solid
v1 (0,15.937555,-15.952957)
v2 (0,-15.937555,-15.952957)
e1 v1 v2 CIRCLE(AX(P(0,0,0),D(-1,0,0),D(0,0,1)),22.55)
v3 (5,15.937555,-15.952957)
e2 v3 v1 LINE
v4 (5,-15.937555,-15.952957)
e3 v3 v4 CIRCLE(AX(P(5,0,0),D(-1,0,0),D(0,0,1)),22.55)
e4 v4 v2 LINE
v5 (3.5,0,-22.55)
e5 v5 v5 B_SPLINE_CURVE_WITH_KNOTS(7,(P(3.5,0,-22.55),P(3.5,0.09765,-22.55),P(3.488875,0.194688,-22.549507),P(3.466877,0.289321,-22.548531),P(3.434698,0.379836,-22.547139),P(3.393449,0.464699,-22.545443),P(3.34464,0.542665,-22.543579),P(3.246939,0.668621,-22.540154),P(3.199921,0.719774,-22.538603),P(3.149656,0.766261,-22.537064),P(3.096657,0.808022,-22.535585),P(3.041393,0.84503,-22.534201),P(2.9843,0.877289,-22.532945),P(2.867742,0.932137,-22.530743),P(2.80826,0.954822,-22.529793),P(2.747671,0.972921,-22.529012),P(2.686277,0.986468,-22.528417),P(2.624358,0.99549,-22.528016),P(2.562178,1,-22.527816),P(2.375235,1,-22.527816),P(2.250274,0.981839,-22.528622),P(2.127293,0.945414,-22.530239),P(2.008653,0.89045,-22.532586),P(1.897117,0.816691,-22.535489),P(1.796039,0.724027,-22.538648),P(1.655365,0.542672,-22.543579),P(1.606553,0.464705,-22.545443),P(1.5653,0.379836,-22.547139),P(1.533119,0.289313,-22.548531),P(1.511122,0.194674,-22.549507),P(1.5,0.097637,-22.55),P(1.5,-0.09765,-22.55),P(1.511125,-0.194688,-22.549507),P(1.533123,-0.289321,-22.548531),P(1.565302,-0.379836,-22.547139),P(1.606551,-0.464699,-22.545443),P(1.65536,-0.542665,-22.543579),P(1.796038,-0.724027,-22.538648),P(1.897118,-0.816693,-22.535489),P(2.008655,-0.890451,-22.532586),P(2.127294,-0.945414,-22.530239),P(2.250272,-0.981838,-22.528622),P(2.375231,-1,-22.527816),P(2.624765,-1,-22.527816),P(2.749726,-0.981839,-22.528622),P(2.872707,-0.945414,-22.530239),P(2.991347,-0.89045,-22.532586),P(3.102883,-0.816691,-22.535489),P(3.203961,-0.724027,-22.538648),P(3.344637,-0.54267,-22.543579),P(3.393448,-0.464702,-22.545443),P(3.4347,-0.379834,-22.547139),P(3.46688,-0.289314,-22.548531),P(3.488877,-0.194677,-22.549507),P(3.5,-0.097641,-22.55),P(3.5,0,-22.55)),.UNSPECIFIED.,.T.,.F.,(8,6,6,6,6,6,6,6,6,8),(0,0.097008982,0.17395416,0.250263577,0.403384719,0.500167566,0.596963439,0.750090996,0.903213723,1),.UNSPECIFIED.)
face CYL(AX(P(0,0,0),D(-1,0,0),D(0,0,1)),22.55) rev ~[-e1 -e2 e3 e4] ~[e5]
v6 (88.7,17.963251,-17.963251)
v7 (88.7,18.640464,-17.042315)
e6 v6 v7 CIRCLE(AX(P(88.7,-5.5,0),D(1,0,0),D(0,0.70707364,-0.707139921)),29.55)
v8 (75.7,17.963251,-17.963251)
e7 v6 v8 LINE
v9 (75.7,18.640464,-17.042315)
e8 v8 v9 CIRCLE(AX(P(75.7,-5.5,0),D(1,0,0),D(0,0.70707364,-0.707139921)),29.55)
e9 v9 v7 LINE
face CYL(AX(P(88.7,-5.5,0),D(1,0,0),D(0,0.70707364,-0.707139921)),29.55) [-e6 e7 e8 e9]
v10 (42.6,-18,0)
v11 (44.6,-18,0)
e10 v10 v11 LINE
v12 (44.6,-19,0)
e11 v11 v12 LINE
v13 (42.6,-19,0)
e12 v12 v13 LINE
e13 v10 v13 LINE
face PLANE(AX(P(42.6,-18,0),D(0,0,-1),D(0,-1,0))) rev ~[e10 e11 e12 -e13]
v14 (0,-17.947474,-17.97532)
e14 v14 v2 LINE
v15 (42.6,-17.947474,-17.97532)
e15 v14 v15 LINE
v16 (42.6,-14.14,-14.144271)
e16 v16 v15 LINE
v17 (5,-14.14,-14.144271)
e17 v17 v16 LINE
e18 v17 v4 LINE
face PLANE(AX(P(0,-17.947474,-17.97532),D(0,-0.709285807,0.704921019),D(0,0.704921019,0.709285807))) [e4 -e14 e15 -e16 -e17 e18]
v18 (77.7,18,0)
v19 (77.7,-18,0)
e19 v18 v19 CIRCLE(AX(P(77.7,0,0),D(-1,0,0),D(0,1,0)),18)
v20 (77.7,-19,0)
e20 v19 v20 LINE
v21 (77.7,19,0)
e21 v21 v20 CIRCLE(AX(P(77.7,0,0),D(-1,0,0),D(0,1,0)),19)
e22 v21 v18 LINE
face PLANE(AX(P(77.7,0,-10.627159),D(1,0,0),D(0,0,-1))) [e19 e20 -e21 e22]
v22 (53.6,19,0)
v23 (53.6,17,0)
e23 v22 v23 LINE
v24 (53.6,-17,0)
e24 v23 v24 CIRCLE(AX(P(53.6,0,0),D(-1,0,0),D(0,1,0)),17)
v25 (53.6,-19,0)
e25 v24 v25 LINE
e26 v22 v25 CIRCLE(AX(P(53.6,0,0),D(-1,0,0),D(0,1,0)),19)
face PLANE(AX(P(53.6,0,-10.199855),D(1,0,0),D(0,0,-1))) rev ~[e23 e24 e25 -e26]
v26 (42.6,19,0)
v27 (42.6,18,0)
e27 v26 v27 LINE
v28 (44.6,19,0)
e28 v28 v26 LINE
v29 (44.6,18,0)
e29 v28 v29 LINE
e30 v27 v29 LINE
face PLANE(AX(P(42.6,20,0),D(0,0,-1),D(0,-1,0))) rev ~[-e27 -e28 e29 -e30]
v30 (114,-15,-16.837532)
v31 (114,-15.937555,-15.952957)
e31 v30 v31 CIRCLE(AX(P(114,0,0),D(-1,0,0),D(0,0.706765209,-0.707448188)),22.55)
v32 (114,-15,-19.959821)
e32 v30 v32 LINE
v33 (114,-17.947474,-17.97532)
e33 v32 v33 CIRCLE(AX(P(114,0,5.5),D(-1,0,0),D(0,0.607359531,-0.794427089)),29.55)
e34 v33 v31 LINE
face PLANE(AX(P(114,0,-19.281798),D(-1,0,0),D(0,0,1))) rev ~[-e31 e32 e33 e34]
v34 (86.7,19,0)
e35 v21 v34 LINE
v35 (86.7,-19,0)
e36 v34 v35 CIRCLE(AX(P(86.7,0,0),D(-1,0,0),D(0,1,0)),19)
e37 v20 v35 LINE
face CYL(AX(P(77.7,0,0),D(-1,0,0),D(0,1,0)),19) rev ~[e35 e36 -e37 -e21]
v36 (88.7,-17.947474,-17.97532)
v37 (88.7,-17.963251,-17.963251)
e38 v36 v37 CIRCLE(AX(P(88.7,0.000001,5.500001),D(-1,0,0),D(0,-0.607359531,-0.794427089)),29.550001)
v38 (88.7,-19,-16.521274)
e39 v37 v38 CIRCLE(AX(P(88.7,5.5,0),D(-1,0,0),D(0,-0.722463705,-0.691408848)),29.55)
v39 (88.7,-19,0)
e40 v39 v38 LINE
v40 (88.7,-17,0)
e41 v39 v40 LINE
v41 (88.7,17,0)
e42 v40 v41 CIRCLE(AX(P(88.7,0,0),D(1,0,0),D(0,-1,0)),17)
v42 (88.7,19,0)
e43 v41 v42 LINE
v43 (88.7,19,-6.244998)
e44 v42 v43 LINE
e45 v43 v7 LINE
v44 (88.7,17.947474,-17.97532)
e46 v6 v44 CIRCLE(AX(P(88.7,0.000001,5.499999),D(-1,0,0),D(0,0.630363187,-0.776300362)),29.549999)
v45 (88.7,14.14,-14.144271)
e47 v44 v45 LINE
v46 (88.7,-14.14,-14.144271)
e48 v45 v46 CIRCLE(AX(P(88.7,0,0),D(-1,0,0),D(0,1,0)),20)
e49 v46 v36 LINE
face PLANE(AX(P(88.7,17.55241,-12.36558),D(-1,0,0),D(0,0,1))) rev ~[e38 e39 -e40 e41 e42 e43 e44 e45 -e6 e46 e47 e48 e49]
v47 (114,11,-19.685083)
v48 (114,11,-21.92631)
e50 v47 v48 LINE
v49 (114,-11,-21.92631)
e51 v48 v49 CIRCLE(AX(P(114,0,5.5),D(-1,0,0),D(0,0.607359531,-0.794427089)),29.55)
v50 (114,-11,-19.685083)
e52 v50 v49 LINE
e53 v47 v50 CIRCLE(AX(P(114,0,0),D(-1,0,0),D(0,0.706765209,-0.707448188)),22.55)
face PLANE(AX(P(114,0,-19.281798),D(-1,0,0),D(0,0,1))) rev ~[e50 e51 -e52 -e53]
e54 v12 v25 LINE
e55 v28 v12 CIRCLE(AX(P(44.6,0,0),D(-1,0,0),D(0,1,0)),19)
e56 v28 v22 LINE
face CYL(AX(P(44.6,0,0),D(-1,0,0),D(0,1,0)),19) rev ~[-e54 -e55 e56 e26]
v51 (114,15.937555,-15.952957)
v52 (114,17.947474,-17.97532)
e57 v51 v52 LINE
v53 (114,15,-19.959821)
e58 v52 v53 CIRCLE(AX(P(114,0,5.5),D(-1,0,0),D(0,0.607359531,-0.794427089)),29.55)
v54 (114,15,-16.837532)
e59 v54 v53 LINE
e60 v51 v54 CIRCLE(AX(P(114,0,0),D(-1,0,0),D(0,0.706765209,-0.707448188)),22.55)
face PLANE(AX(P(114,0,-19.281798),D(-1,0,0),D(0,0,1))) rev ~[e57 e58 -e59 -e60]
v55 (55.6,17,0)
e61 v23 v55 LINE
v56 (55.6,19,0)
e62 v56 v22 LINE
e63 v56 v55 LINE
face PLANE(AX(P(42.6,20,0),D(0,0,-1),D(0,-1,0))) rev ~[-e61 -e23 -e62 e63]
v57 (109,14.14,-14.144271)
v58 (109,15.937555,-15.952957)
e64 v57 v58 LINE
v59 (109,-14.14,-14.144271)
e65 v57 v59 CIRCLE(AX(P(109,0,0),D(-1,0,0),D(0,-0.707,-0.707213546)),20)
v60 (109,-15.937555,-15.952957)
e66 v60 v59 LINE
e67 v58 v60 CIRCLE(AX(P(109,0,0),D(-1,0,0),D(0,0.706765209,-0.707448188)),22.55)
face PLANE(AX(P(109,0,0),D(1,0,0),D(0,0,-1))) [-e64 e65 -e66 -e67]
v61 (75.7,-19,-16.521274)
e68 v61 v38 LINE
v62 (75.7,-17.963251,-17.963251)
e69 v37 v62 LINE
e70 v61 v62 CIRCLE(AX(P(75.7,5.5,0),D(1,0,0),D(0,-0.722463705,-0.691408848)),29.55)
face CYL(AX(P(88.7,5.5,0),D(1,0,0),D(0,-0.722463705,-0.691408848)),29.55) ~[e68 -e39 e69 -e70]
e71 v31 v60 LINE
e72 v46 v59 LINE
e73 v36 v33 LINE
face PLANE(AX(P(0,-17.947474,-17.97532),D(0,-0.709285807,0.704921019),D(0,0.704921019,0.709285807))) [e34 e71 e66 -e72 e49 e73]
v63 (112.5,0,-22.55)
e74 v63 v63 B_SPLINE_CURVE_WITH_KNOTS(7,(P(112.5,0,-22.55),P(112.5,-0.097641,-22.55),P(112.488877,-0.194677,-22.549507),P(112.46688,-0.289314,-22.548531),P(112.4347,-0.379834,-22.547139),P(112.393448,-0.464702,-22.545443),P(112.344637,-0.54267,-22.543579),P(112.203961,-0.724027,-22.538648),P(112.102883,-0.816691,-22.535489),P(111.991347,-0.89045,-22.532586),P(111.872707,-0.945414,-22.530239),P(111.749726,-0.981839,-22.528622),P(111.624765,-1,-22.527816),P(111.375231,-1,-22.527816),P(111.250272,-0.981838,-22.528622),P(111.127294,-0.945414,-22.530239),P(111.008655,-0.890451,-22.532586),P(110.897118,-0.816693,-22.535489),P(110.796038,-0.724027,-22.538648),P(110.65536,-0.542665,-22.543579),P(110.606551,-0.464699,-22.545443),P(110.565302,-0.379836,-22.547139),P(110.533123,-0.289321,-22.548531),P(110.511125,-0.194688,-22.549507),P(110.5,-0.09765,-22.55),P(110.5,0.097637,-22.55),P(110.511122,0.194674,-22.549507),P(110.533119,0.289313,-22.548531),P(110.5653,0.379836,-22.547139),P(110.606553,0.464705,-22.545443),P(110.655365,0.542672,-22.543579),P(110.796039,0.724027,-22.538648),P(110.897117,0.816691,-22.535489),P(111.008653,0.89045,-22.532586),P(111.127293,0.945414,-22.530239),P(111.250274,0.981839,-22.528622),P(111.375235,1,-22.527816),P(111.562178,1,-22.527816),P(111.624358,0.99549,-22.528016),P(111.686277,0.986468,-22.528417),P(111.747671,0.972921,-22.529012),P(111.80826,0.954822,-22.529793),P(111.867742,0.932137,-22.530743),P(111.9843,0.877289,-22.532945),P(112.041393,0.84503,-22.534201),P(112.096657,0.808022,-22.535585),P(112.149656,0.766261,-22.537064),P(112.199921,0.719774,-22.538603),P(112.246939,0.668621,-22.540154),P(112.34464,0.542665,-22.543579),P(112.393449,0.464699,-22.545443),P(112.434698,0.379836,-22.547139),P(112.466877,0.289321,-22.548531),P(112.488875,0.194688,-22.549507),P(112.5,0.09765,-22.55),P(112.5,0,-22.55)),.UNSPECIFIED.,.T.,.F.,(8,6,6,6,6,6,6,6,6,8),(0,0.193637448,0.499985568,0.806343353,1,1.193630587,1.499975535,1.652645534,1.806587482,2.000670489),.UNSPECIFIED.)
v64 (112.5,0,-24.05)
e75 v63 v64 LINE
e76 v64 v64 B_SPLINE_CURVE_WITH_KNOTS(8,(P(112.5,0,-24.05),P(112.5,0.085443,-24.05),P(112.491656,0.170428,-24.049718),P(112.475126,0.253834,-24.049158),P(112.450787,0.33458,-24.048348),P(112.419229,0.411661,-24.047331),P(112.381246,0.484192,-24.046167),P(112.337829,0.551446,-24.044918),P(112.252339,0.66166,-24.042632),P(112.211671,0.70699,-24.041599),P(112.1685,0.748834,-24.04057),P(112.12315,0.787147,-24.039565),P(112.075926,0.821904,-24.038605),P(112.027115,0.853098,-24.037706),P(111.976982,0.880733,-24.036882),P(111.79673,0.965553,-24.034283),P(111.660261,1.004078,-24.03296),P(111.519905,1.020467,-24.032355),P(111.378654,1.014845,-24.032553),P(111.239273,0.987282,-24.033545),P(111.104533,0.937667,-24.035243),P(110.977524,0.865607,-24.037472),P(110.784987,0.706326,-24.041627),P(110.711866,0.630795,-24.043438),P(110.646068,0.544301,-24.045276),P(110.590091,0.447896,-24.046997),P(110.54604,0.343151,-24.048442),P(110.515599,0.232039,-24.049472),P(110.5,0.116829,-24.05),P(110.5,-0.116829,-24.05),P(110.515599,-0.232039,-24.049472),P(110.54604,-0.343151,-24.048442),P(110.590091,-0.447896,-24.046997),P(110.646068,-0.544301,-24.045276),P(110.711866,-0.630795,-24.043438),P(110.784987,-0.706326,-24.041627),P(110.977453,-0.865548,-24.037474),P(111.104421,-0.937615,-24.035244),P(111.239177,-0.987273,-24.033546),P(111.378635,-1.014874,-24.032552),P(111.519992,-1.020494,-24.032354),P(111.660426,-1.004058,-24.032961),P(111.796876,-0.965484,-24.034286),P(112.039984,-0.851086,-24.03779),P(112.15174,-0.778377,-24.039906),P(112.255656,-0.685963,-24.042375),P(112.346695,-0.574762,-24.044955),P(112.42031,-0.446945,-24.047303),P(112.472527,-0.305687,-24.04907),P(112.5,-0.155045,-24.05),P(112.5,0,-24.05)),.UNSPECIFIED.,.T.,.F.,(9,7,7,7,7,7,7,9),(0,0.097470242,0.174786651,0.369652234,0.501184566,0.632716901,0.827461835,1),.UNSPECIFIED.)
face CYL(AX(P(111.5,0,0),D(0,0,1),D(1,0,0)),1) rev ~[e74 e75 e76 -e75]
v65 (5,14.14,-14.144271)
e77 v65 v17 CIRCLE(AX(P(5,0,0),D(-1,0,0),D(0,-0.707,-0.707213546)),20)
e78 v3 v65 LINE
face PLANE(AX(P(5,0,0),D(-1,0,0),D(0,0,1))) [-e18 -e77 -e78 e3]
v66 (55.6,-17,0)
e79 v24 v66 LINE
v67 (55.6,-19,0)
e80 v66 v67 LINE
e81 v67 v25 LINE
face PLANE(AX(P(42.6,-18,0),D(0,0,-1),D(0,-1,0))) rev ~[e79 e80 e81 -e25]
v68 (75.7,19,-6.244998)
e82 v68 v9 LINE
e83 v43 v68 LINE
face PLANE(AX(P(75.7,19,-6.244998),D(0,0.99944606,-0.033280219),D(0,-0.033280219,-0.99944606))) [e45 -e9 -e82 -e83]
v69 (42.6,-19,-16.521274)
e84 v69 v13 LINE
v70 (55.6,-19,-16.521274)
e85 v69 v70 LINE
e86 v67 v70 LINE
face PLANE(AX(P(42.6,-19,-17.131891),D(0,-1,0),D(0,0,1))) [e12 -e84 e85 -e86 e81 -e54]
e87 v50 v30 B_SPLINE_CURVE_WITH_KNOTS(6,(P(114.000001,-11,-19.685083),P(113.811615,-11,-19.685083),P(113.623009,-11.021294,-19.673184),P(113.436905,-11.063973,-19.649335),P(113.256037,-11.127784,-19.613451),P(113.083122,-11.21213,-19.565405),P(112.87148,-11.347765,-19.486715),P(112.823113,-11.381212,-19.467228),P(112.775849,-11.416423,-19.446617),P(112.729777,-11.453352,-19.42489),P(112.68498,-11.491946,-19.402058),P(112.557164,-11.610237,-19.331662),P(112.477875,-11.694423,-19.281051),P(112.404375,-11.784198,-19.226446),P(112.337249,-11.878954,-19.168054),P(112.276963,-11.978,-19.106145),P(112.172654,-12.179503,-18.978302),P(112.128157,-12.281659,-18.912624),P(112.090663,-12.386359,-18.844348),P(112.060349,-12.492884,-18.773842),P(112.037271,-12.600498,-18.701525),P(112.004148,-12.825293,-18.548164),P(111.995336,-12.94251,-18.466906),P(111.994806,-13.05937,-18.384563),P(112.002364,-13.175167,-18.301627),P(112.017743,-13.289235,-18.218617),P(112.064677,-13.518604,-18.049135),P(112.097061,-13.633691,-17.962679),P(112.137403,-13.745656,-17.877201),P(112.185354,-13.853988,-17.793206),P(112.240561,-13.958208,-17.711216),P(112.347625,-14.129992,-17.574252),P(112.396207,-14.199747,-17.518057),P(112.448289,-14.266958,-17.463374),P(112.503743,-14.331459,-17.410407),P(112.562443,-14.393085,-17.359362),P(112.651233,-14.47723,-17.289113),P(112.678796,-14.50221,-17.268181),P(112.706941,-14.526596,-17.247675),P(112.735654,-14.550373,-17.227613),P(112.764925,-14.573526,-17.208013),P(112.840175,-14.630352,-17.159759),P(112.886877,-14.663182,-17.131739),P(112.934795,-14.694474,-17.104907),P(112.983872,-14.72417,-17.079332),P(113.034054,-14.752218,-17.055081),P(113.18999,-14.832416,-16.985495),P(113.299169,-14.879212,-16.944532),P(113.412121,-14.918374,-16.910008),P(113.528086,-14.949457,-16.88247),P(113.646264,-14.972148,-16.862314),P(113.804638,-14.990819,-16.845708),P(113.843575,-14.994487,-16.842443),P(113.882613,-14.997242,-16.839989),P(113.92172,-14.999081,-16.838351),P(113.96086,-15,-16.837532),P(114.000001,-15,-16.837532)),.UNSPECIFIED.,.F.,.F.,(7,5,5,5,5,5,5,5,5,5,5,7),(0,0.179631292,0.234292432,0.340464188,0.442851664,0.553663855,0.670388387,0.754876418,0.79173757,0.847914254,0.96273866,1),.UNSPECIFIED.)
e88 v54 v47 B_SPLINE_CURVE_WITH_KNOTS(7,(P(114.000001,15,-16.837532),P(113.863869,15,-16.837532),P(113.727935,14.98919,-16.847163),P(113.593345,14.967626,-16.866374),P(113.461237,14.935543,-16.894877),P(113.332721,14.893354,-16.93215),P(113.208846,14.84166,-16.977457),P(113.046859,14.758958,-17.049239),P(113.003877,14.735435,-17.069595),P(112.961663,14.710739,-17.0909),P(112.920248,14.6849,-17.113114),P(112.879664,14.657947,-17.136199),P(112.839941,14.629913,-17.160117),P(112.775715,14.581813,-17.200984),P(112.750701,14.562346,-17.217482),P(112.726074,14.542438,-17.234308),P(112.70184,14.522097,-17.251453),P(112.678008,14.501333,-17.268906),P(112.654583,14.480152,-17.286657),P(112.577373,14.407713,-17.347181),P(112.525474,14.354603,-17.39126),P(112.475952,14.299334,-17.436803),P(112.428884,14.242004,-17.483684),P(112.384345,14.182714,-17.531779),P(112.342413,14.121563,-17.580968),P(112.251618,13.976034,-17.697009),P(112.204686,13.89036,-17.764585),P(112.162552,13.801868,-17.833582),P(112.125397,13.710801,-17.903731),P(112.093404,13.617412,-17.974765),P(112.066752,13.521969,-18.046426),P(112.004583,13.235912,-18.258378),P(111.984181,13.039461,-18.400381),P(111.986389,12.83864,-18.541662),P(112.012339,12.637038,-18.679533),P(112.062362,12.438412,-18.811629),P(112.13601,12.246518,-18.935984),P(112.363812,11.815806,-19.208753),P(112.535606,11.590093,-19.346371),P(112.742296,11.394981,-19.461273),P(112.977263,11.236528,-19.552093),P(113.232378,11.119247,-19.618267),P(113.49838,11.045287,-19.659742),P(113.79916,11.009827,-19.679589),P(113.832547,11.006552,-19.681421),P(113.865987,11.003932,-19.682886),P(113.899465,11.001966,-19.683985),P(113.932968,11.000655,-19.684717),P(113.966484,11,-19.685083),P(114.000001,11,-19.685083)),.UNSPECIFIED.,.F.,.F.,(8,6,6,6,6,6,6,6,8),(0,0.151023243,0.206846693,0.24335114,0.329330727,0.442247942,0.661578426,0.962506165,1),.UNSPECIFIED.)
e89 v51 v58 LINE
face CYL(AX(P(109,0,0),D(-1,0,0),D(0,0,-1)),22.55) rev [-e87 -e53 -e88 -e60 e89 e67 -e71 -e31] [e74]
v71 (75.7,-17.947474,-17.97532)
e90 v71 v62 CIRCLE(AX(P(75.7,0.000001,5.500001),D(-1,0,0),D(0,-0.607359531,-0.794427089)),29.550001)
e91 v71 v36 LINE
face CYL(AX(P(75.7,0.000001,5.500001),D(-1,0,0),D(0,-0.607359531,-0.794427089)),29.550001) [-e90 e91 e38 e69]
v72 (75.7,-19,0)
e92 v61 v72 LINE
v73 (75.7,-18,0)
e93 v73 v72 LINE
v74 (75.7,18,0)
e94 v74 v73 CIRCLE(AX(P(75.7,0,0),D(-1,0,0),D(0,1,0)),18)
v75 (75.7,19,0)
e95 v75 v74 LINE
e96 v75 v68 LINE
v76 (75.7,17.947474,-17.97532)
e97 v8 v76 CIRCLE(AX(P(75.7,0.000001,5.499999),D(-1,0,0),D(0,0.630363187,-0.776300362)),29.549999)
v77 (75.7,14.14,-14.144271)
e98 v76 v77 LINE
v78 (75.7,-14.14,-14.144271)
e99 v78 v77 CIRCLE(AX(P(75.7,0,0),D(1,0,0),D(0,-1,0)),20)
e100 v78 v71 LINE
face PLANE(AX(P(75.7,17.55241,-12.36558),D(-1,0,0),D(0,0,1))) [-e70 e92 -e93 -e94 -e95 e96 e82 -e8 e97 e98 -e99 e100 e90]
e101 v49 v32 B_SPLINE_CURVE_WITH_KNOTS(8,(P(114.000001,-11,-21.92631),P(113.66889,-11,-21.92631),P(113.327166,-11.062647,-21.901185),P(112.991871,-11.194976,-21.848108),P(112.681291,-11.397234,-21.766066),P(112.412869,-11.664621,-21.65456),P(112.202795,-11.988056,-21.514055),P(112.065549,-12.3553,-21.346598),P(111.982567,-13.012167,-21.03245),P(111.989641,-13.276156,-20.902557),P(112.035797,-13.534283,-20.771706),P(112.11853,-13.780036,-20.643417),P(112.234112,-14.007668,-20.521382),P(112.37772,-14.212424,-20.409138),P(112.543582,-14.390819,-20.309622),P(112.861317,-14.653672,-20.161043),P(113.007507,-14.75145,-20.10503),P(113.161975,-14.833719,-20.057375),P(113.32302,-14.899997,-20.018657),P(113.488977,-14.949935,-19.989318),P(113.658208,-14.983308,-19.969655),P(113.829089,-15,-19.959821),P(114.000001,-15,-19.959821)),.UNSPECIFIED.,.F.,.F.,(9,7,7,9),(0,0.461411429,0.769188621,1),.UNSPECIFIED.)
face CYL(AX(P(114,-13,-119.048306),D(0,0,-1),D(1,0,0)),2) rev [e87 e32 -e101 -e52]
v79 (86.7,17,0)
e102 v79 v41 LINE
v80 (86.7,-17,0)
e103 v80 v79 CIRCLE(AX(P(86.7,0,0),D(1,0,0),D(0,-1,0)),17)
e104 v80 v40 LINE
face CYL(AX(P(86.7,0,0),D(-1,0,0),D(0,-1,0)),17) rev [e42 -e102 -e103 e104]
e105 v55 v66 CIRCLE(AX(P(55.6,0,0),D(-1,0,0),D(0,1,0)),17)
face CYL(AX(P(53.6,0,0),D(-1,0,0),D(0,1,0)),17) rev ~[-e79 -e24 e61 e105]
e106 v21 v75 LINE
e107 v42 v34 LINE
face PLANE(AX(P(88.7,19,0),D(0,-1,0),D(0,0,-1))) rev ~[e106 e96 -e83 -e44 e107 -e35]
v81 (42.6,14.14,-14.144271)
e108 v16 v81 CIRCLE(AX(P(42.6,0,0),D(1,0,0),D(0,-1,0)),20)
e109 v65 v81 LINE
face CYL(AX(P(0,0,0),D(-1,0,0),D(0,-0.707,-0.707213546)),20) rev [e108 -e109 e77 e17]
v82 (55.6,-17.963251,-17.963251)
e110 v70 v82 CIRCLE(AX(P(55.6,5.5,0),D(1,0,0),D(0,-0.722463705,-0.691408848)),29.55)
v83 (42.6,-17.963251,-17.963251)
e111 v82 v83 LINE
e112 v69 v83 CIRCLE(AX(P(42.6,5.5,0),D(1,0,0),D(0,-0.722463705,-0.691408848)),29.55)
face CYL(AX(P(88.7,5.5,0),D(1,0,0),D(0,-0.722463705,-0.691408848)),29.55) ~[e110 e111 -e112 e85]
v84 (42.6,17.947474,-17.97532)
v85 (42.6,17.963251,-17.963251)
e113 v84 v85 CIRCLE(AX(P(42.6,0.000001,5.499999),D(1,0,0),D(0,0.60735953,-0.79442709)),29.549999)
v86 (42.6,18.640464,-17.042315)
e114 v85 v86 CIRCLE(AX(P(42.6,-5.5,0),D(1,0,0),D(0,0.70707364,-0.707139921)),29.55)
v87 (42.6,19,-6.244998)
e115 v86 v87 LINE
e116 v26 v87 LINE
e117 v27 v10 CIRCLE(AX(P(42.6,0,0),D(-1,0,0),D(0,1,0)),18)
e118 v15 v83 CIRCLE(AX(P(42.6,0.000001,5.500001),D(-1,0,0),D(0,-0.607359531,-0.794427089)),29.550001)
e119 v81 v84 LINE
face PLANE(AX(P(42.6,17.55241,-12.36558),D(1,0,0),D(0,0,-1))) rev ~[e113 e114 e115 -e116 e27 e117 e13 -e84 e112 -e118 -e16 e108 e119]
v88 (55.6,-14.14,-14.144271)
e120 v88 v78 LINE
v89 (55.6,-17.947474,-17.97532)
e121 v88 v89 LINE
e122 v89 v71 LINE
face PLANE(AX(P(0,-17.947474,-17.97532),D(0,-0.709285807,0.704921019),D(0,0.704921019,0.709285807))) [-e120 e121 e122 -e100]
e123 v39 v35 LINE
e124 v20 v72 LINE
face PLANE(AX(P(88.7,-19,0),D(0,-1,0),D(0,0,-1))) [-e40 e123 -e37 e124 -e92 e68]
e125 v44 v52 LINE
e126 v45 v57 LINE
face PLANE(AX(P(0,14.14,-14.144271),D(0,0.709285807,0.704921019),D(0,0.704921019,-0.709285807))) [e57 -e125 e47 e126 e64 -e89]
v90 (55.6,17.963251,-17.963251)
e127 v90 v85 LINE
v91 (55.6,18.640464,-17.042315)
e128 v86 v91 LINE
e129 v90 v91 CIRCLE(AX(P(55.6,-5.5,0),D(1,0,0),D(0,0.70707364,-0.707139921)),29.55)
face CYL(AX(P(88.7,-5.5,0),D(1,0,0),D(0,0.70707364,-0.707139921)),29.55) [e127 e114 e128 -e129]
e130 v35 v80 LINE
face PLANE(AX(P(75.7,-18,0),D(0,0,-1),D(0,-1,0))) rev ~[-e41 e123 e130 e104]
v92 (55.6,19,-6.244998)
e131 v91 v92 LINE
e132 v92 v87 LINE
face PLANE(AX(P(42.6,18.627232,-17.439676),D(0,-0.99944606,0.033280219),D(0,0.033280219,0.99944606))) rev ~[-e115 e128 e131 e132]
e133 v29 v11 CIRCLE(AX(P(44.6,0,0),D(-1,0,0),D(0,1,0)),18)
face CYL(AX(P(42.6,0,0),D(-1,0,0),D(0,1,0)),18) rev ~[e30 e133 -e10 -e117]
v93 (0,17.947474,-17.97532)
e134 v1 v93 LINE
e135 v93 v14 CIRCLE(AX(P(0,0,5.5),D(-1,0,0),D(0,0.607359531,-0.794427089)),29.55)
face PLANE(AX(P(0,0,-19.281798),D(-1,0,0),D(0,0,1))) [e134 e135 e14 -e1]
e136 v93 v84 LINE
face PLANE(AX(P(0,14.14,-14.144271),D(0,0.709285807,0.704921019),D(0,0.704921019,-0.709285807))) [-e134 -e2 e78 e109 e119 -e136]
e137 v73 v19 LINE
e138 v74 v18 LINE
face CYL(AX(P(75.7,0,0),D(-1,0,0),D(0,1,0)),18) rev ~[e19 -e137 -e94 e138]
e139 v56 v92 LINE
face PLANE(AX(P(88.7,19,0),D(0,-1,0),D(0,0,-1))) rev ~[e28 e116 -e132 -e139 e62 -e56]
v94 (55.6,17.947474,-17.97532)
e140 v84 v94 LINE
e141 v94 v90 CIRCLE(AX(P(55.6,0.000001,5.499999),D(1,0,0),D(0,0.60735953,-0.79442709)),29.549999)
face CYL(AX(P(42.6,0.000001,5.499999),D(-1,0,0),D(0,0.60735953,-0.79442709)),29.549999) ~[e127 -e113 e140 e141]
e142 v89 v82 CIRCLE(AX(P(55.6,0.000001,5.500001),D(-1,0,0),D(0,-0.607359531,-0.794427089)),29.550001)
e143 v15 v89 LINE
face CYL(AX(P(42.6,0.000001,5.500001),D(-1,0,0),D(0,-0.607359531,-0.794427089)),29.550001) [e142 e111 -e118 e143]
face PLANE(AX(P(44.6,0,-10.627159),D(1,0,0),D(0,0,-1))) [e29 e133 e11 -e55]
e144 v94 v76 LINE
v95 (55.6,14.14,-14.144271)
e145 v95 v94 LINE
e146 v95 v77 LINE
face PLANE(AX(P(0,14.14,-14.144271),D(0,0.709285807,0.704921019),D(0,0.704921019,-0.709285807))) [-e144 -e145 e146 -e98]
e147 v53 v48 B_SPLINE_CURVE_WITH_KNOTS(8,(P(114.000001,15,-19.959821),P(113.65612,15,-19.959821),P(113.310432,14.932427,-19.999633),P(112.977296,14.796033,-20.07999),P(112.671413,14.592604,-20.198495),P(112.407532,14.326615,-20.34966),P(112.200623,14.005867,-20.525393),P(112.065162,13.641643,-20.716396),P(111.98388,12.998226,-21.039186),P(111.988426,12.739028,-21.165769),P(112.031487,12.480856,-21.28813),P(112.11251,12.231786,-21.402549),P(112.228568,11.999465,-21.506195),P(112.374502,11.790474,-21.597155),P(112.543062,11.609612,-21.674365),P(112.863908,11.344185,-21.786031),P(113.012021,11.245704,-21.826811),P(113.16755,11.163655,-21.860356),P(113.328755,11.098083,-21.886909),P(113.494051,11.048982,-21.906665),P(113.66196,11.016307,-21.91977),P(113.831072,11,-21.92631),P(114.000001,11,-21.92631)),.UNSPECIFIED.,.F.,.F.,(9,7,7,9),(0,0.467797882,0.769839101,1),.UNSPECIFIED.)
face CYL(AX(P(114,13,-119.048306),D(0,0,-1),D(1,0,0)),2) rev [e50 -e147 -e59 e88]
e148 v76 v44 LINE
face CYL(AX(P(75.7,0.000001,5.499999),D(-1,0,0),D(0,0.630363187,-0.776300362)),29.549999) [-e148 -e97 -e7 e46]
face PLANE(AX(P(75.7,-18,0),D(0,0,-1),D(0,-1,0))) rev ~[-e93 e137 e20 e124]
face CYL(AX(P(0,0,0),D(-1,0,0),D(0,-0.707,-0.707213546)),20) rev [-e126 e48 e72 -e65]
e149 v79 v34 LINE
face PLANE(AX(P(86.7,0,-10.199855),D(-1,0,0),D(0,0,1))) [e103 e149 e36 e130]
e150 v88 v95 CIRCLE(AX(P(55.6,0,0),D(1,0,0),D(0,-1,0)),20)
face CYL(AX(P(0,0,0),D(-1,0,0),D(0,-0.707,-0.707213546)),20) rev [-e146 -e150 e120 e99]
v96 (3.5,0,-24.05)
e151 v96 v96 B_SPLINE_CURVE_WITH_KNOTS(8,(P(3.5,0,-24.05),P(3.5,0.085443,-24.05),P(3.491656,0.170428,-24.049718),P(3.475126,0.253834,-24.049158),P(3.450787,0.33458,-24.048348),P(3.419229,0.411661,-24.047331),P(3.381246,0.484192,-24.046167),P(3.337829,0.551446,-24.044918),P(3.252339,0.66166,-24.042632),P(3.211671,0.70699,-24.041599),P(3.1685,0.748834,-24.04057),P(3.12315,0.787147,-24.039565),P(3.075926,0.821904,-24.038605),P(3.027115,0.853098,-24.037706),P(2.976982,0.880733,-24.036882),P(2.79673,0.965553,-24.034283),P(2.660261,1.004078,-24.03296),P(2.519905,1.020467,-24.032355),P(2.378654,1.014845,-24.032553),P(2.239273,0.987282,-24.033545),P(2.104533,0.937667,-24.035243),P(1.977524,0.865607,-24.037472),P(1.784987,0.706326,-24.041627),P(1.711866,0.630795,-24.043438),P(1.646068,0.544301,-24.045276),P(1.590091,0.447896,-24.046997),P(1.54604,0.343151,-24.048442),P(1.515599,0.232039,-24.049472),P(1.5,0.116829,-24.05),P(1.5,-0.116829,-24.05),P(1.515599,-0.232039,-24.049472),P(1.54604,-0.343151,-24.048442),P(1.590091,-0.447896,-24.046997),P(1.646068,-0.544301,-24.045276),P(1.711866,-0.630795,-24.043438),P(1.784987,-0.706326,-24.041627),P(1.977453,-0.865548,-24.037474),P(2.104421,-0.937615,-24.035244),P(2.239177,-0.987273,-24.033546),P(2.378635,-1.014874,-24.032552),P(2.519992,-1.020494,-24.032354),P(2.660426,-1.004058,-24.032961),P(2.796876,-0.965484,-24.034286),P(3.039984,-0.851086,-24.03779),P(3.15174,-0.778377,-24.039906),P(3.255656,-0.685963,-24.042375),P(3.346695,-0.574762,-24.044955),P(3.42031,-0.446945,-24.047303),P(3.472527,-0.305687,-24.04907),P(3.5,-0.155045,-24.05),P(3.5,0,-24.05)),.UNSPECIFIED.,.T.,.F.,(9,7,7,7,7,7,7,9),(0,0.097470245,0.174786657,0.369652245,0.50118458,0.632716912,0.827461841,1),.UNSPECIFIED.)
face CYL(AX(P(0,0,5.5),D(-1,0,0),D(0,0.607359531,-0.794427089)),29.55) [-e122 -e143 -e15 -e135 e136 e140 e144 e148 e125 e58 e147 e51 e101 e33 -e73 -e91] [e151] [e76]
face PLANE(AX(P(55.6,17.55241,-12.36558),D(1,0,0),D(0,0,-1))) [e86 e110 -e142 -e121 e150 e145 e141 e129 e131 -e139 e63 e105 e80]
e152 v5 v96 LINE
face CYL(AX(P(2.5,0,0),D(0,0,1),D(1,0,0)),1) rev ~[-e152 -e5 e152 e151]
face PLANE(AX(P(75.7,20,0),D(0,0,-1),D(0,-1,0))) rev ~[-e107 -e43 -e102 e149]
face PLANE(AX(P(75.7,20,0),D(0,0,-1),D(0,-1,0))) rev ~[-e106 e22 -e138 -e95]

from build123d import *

# Parameters (mm, degrees)
BOSS_EXTRU_1_DEPTH           = 114
ESQUISSE2_R                  = 22.55
ENL_V_MAT_EXTRU_2_DEPTH      = 5
ENL_V_START                  = -5
ESQUISSE4_R                  = 22.55
ENL_V_MAT_EXTRU_3_DEPTH      = 5
ESQUISSE5_R                  = 1
ENL_V_MAT_EXTRU_4_DEPTH      = 118.883477756
BOSS_EXTRU_2_START           = -2
BOSS_EXTRU_2_DEPTH           = 2
BOSS_EXTRU_3_START           = 9
BOSS_EXTRU_3_DEPTH           = 9
BOSS_EXTRU_4_START           = 2
BOSS_EXTRU_4_DEPTH           = 2
BOSS_EXTRU_5_START           = -2
BOSS_EXTRU_5_DEPTH           = 2
BOSS_EXTRU_6_START           = 9
BOSS_EXTRU_6_DEPTH           = 9
BOSS_EXTRU_7_START           = 2
BOSS_EXTRU_7_DEPTH           = 2
ESQUISSE12_W                 = 13.751826503
ESQUISSE12_H                 = 1
ESQUISSE12_W_2               = 11.167500513
ENL_V_MAT_EXTRU_5_DEPTH      = 95.05366831
BOSS_EXTRU_8_START           = -13
BOSS_EXTRU_8_DEPTH           = 13
BOSS_EXTRU_9_START           = -13
BOSS_EXTRU_9_DEPTH           = 13
ENL_V_MAT_EXTRU_6_DEPTH      = 94.846110875
ENL_V_MAT_EXTRU_7_DEPTH      = 119.048305907
ENL_V_MAT_EXTRU_7_DEPTH_BACK = 119.048305907
ESQUISSE16_R                 = 2


with BuildPart() as part:
    # Esquisse1 → Boss.-Extru.1 (new body)
    with BuildSketch(Plane(origin=(0, 0, 0), x_dir=(0, 0, -1), z_dir=(1, 0, 0))):
        with BuildLine():
            Line((14.144270925, 14.14), (17.975320492, 17.947474134))
            ThreePointArc((17.975320492, 17.947474134), (24.05, 0), (17.975320492, -17.947474134))
            Line((17.975320492, -17.947474134), (14.144270925, -14.14))
            ThreePointArc((14.144270925, -14.14), (20, 0), (14.144270925, 14.14))
        make_face()
    extrude(amount=BOSS_EXTRU_1_DEPTH)

    # Esquisse2 → Enlèv. mat.-Extru.2 (cut)
    with BuildSketch(Plane.ZY):
        Circle(ESQUISSE2_R)
    extrude(amount=-ENL_V_MAT_EXTRU_2_DEPTH, mode=Mode.SUBTRACT)

    # Esquisse4 → Enlèv. mat.-Extru.3 (cut)
    with BuildSketch(Plane(origin=(114, 0, 0), x_dir=(0, 0, -1), z_dir=(1, 0, 0)).offset(ENL_V_START)):
        Circle(ESQUISSE4_R)
    extrude(amount=ENL_V_MAT_EXTRU_3_DEPTH, mode=Mode.SUBTRACT)

    # Esquisse5 → Enlèv. mat.-Extru.4 (cut, through all)
    with BuildSketch(Plane.XY):
        with Locations((2.5, 0)):
            Circle(ESQUISSE5_R)
        with Locations((111.5, 0)):
            Circle(ESQUISSE5_R)
    extrude(amount=-ENL_V_MAT_EXTRU_4_DEPTH, mode=Mode.SUBTRACT)

    # Esquisse6 → Boss.-Extru.2 (add)
    with BuildSketch(Plane(origin=(88.7, 0, 0), x_dir=(0, 0, -1), z_dir=(1, 0, 0)).offset(BOSS_EXTRU_2_START)):
        with BuildLine():
            Line((0, 17), (0, 20))
            ThreePointArc((0, 20), (20, 0), (0, -20))
            Line((0, -20), (0, -17))
            ThreePointArc((0, -17), (17, 0), (0, 17))
        make_face()
    extrude(amount=BOSS_EXTRU_2_DEPTH)

    # Esquisse7 → Boss.-Extru.3 (add)
    with BuildSketch(Plane.ZY.offset(-86.7).offset(BOSS_EXTRU_3_START)):
        with BuildLine():
            Line((0, 20), (0, 19))
            ThreePointArc((0, 19), (-19, 0), (0, -19))
            Line((0, -19), (0, -20))
            ThreePointArc((0, -20), (-20, 0), (0, 20))
        make_face()
    extrude(amount=-BOSS_EXTRU_3_DEPTH)

    # Esquisse8 → Boss.-Extru.4 (add)
    with BuildSketch(Plane.ZY.offset(-77.7).offset(BOSS_EXTRU_4_START)):
        with BuildLine():
            Line((0, 20), (0, 18))
            ThreePointArc((0, 18), (-18, 0), (0, -18))
            Line((0, -18), (0, -20))
            ThreePointArc((0, -20), (-20, 0), (0, 20))
        make_face()
    extrude(amount=-BOSS_EXTRU_4_DEPTH)

    # Esquisse9 → Boss.-Extru.5 (add)
    with BuildSketch(Plane(origin=(55.6, 0, 0), x_dir=(0, 0, -1), z_dir=(1, 0, 0)).offset(BOSS_EXTRU_5_START)):
        with BuildLine():
            Line((0, 20), (0, 17))
            ThreePointArc((0, 17), (17, 0), (0, -17))
            Line((0, -17), (0, -20))
            ThreePointArc((0, -20), (20, 0), (0, 20))
        make_face()
    extrude(amount=BOSS_EXTRU_5_DEPTH)

    # Esquisse10 → Boss.-Extru.6 (add)
    with BuildSketch(Plane.ZY.offset(-53.6).offset(BOSS_EXTRU_6_START)):
        with BuildLine():
            Line((0, 20), (0, 19))
            ThreePointArc((0, 19), (-19, 0), (0, -19))
            Line((0, -19), (0, -20))
            ThreePointArc((0, -20), (-20, 0), (0, 20))
        make_face()
    extrude(amount=-BOSS_EXTRU_6_DEPTH)

    # Esquisse11 → Boss.-Extru.7 (add)
    with BuildSketch(Plane.ZY.offset(-44.6).offset(BOSS_EXTRU_7_START)):
        with BuildLine():
            Line((0, 20), (0, 18))
            ThreePointArc((0, 18), (-18, 0), (0, -18))
            Line((0, -18), (0, -20))
            ThreePointArc((0, -20), (-20, 0), (0, 20))
        make_face()
    extrude(amount=-BOSS_EXTRU_7_DEPTH)

    # Esquisse12 → Enlèv. mat.-Extru.5 (cut, through all)
    with BuildSketch(Plane(origin=(88.7, 0, 0), x_dir=(0, 0, -1), z_dir=(1, 0, 0))):
        with Locations((6.875913252, -19.5)):
            Rectangle(ESQUISSE12_W, ESQUISSE12_H)
        with Locations((5.583750257, 19.5)):
            Rectangle(ESQUISSE12_W_2, ESQUISSE12_H)
    extrude(amount=-ENL_V_MAT_EXTRU_5_DEPTH, mode=Mode.SUBTRACT)

    # Esquisse13 → Boss.-Extru.8 (add)
    with BuildSketch(Plane(origin=(88.7, 0, 0), x_dir=(0, 0, -1), z_dir=(1, 0, 0)).offset(BOSS_EXTRU_8_START)):
        with BuildLine():
            Line((17.975320492, 17.947474134), (14.144270925, 14.14))
            ThreePointArc((14.144270925, 14.14), (10.480241973, 17.034216395), (6.244997998, 19))
            Line((6.244997998, 19), (17.4396757, 18.627232183))
            ThreePointArc((17.4396757, 18.627232183), (17.709986765, 18.289314213), (17.975320492, 17.947474134))
        make_face()
        with BuildLine():
            Line((14.144270925, -14.14), (17.975320492, -17.947474134))
            ThreePointArc((17.975320492, -17.947474134), (17.559611782, -18.478549847), (17.131891216, -19))
            Line((17.131891216, -19), (6.244997998, -19))
            ThreePointArc((6.244997998, -19), (10.480241973, -17.034216395), (14.144270925, -14.14))
        make_face()
    extrude(amount=BOSS_EXTRU_8_DEPTH)

    # Esquisse14 → Boss.-Extru.9 (add)
    with BuildSketch(Plane(origin=(55.6, 0, 0), x_dir=(0, 0, -1), z_dir=(1, 0, 0)).offset(BOSS_EXTRU_9_START)):
        with BuildLine():
            Line((14.144270925, 14.14), (17.975320492, 17.947474134))
            ThreePointArc((17.975320492, 17.947474134), (17.709986765, 18.289314213), (17.4396757, 18.627232183))
            Line((17.4396757, 18.627232183), (6.244997998, 19))
            ThreePointArc((6.244997998, 19), (10.480241973, 17.034216395), (14.144270925, 14.14))
        make_face()
        with BuildLine():
            Line((14.144270925, -14.14), (17.975320492, -17.947474134))
            ThreePointArc((17.975320492, -17.947474134), (17.559611782, -18.478549847), (17.131891216, -19))
            Line((17.131891216, -19), (6.244997998, -19))
            ThreePointArc((6.244997998, -19), (10.480241973, -17.034216395), (14.144270925, -14.14))
        make_face()
    extrude(amount=BOSS_EXTRU_9_DEPTH)

    # Esquisse15 → Enlèv. mat.-Extru.6 (cut, through all)
    with BuildSketch(Plane(origin=(88.7, 0, 0), x_dir=(0, 0, -1), z_dir=(1, 0, 0))):
        with BuildLine():
            Line((14.409304815, 20.298729325), (16.901493379, 24.760797344))
            Line((16.901493379, 24.760797344), (24.890475951, 20.298729325))
            Line((24.890475951, 20.298729325), (20.895984665, 15.394026057))
            ThreePointArc((20.895984665, 15.394026057), (17.822174246, 18.070587713), (14.409304815, 20.298729325))
        make_face()
        with BuildLine():
            Line((14.409304815, -20.298729325), (16.901493379, -24.760797344))
            Line((16.901493379, -24.760797344), (22.934233847, -18.464332541))
            Line((22.934233847, -18.464332541), (20.431131458, -15.848802481))
            ThreePointArc((20.431131458, -15.848802481), (17.561732891, -18.265269573), (14.409304815, -20.298729325))
        make_face()
    extrude(amount=-ENL_V_MAT_EXTRU_6_DEPTH, mode=Mode.SUBTRACT)

    # Esquisse16 → Enlèv. mat.-Extru.7 (cut, two sides: drawn at the far end of the back side and taken through both)
    with BuildSketch(Plane.XY.offset(-ENL_V_MAT_EXTRU_7_DEPTH_BACK)):
        with Locations((114, 13)):
            Circle(ESQUISSE16_R)
        with Locations((114, -13)):
            Circle(ESQUISSE16_R)
    extrude(amount=ENL_V_MAT_EXTRU_7_DEPTH + ENL_V_MAT_EXTRU_7_DEPTH_BACK, mode=Mode.SUBTRACT)


solid = part.part
